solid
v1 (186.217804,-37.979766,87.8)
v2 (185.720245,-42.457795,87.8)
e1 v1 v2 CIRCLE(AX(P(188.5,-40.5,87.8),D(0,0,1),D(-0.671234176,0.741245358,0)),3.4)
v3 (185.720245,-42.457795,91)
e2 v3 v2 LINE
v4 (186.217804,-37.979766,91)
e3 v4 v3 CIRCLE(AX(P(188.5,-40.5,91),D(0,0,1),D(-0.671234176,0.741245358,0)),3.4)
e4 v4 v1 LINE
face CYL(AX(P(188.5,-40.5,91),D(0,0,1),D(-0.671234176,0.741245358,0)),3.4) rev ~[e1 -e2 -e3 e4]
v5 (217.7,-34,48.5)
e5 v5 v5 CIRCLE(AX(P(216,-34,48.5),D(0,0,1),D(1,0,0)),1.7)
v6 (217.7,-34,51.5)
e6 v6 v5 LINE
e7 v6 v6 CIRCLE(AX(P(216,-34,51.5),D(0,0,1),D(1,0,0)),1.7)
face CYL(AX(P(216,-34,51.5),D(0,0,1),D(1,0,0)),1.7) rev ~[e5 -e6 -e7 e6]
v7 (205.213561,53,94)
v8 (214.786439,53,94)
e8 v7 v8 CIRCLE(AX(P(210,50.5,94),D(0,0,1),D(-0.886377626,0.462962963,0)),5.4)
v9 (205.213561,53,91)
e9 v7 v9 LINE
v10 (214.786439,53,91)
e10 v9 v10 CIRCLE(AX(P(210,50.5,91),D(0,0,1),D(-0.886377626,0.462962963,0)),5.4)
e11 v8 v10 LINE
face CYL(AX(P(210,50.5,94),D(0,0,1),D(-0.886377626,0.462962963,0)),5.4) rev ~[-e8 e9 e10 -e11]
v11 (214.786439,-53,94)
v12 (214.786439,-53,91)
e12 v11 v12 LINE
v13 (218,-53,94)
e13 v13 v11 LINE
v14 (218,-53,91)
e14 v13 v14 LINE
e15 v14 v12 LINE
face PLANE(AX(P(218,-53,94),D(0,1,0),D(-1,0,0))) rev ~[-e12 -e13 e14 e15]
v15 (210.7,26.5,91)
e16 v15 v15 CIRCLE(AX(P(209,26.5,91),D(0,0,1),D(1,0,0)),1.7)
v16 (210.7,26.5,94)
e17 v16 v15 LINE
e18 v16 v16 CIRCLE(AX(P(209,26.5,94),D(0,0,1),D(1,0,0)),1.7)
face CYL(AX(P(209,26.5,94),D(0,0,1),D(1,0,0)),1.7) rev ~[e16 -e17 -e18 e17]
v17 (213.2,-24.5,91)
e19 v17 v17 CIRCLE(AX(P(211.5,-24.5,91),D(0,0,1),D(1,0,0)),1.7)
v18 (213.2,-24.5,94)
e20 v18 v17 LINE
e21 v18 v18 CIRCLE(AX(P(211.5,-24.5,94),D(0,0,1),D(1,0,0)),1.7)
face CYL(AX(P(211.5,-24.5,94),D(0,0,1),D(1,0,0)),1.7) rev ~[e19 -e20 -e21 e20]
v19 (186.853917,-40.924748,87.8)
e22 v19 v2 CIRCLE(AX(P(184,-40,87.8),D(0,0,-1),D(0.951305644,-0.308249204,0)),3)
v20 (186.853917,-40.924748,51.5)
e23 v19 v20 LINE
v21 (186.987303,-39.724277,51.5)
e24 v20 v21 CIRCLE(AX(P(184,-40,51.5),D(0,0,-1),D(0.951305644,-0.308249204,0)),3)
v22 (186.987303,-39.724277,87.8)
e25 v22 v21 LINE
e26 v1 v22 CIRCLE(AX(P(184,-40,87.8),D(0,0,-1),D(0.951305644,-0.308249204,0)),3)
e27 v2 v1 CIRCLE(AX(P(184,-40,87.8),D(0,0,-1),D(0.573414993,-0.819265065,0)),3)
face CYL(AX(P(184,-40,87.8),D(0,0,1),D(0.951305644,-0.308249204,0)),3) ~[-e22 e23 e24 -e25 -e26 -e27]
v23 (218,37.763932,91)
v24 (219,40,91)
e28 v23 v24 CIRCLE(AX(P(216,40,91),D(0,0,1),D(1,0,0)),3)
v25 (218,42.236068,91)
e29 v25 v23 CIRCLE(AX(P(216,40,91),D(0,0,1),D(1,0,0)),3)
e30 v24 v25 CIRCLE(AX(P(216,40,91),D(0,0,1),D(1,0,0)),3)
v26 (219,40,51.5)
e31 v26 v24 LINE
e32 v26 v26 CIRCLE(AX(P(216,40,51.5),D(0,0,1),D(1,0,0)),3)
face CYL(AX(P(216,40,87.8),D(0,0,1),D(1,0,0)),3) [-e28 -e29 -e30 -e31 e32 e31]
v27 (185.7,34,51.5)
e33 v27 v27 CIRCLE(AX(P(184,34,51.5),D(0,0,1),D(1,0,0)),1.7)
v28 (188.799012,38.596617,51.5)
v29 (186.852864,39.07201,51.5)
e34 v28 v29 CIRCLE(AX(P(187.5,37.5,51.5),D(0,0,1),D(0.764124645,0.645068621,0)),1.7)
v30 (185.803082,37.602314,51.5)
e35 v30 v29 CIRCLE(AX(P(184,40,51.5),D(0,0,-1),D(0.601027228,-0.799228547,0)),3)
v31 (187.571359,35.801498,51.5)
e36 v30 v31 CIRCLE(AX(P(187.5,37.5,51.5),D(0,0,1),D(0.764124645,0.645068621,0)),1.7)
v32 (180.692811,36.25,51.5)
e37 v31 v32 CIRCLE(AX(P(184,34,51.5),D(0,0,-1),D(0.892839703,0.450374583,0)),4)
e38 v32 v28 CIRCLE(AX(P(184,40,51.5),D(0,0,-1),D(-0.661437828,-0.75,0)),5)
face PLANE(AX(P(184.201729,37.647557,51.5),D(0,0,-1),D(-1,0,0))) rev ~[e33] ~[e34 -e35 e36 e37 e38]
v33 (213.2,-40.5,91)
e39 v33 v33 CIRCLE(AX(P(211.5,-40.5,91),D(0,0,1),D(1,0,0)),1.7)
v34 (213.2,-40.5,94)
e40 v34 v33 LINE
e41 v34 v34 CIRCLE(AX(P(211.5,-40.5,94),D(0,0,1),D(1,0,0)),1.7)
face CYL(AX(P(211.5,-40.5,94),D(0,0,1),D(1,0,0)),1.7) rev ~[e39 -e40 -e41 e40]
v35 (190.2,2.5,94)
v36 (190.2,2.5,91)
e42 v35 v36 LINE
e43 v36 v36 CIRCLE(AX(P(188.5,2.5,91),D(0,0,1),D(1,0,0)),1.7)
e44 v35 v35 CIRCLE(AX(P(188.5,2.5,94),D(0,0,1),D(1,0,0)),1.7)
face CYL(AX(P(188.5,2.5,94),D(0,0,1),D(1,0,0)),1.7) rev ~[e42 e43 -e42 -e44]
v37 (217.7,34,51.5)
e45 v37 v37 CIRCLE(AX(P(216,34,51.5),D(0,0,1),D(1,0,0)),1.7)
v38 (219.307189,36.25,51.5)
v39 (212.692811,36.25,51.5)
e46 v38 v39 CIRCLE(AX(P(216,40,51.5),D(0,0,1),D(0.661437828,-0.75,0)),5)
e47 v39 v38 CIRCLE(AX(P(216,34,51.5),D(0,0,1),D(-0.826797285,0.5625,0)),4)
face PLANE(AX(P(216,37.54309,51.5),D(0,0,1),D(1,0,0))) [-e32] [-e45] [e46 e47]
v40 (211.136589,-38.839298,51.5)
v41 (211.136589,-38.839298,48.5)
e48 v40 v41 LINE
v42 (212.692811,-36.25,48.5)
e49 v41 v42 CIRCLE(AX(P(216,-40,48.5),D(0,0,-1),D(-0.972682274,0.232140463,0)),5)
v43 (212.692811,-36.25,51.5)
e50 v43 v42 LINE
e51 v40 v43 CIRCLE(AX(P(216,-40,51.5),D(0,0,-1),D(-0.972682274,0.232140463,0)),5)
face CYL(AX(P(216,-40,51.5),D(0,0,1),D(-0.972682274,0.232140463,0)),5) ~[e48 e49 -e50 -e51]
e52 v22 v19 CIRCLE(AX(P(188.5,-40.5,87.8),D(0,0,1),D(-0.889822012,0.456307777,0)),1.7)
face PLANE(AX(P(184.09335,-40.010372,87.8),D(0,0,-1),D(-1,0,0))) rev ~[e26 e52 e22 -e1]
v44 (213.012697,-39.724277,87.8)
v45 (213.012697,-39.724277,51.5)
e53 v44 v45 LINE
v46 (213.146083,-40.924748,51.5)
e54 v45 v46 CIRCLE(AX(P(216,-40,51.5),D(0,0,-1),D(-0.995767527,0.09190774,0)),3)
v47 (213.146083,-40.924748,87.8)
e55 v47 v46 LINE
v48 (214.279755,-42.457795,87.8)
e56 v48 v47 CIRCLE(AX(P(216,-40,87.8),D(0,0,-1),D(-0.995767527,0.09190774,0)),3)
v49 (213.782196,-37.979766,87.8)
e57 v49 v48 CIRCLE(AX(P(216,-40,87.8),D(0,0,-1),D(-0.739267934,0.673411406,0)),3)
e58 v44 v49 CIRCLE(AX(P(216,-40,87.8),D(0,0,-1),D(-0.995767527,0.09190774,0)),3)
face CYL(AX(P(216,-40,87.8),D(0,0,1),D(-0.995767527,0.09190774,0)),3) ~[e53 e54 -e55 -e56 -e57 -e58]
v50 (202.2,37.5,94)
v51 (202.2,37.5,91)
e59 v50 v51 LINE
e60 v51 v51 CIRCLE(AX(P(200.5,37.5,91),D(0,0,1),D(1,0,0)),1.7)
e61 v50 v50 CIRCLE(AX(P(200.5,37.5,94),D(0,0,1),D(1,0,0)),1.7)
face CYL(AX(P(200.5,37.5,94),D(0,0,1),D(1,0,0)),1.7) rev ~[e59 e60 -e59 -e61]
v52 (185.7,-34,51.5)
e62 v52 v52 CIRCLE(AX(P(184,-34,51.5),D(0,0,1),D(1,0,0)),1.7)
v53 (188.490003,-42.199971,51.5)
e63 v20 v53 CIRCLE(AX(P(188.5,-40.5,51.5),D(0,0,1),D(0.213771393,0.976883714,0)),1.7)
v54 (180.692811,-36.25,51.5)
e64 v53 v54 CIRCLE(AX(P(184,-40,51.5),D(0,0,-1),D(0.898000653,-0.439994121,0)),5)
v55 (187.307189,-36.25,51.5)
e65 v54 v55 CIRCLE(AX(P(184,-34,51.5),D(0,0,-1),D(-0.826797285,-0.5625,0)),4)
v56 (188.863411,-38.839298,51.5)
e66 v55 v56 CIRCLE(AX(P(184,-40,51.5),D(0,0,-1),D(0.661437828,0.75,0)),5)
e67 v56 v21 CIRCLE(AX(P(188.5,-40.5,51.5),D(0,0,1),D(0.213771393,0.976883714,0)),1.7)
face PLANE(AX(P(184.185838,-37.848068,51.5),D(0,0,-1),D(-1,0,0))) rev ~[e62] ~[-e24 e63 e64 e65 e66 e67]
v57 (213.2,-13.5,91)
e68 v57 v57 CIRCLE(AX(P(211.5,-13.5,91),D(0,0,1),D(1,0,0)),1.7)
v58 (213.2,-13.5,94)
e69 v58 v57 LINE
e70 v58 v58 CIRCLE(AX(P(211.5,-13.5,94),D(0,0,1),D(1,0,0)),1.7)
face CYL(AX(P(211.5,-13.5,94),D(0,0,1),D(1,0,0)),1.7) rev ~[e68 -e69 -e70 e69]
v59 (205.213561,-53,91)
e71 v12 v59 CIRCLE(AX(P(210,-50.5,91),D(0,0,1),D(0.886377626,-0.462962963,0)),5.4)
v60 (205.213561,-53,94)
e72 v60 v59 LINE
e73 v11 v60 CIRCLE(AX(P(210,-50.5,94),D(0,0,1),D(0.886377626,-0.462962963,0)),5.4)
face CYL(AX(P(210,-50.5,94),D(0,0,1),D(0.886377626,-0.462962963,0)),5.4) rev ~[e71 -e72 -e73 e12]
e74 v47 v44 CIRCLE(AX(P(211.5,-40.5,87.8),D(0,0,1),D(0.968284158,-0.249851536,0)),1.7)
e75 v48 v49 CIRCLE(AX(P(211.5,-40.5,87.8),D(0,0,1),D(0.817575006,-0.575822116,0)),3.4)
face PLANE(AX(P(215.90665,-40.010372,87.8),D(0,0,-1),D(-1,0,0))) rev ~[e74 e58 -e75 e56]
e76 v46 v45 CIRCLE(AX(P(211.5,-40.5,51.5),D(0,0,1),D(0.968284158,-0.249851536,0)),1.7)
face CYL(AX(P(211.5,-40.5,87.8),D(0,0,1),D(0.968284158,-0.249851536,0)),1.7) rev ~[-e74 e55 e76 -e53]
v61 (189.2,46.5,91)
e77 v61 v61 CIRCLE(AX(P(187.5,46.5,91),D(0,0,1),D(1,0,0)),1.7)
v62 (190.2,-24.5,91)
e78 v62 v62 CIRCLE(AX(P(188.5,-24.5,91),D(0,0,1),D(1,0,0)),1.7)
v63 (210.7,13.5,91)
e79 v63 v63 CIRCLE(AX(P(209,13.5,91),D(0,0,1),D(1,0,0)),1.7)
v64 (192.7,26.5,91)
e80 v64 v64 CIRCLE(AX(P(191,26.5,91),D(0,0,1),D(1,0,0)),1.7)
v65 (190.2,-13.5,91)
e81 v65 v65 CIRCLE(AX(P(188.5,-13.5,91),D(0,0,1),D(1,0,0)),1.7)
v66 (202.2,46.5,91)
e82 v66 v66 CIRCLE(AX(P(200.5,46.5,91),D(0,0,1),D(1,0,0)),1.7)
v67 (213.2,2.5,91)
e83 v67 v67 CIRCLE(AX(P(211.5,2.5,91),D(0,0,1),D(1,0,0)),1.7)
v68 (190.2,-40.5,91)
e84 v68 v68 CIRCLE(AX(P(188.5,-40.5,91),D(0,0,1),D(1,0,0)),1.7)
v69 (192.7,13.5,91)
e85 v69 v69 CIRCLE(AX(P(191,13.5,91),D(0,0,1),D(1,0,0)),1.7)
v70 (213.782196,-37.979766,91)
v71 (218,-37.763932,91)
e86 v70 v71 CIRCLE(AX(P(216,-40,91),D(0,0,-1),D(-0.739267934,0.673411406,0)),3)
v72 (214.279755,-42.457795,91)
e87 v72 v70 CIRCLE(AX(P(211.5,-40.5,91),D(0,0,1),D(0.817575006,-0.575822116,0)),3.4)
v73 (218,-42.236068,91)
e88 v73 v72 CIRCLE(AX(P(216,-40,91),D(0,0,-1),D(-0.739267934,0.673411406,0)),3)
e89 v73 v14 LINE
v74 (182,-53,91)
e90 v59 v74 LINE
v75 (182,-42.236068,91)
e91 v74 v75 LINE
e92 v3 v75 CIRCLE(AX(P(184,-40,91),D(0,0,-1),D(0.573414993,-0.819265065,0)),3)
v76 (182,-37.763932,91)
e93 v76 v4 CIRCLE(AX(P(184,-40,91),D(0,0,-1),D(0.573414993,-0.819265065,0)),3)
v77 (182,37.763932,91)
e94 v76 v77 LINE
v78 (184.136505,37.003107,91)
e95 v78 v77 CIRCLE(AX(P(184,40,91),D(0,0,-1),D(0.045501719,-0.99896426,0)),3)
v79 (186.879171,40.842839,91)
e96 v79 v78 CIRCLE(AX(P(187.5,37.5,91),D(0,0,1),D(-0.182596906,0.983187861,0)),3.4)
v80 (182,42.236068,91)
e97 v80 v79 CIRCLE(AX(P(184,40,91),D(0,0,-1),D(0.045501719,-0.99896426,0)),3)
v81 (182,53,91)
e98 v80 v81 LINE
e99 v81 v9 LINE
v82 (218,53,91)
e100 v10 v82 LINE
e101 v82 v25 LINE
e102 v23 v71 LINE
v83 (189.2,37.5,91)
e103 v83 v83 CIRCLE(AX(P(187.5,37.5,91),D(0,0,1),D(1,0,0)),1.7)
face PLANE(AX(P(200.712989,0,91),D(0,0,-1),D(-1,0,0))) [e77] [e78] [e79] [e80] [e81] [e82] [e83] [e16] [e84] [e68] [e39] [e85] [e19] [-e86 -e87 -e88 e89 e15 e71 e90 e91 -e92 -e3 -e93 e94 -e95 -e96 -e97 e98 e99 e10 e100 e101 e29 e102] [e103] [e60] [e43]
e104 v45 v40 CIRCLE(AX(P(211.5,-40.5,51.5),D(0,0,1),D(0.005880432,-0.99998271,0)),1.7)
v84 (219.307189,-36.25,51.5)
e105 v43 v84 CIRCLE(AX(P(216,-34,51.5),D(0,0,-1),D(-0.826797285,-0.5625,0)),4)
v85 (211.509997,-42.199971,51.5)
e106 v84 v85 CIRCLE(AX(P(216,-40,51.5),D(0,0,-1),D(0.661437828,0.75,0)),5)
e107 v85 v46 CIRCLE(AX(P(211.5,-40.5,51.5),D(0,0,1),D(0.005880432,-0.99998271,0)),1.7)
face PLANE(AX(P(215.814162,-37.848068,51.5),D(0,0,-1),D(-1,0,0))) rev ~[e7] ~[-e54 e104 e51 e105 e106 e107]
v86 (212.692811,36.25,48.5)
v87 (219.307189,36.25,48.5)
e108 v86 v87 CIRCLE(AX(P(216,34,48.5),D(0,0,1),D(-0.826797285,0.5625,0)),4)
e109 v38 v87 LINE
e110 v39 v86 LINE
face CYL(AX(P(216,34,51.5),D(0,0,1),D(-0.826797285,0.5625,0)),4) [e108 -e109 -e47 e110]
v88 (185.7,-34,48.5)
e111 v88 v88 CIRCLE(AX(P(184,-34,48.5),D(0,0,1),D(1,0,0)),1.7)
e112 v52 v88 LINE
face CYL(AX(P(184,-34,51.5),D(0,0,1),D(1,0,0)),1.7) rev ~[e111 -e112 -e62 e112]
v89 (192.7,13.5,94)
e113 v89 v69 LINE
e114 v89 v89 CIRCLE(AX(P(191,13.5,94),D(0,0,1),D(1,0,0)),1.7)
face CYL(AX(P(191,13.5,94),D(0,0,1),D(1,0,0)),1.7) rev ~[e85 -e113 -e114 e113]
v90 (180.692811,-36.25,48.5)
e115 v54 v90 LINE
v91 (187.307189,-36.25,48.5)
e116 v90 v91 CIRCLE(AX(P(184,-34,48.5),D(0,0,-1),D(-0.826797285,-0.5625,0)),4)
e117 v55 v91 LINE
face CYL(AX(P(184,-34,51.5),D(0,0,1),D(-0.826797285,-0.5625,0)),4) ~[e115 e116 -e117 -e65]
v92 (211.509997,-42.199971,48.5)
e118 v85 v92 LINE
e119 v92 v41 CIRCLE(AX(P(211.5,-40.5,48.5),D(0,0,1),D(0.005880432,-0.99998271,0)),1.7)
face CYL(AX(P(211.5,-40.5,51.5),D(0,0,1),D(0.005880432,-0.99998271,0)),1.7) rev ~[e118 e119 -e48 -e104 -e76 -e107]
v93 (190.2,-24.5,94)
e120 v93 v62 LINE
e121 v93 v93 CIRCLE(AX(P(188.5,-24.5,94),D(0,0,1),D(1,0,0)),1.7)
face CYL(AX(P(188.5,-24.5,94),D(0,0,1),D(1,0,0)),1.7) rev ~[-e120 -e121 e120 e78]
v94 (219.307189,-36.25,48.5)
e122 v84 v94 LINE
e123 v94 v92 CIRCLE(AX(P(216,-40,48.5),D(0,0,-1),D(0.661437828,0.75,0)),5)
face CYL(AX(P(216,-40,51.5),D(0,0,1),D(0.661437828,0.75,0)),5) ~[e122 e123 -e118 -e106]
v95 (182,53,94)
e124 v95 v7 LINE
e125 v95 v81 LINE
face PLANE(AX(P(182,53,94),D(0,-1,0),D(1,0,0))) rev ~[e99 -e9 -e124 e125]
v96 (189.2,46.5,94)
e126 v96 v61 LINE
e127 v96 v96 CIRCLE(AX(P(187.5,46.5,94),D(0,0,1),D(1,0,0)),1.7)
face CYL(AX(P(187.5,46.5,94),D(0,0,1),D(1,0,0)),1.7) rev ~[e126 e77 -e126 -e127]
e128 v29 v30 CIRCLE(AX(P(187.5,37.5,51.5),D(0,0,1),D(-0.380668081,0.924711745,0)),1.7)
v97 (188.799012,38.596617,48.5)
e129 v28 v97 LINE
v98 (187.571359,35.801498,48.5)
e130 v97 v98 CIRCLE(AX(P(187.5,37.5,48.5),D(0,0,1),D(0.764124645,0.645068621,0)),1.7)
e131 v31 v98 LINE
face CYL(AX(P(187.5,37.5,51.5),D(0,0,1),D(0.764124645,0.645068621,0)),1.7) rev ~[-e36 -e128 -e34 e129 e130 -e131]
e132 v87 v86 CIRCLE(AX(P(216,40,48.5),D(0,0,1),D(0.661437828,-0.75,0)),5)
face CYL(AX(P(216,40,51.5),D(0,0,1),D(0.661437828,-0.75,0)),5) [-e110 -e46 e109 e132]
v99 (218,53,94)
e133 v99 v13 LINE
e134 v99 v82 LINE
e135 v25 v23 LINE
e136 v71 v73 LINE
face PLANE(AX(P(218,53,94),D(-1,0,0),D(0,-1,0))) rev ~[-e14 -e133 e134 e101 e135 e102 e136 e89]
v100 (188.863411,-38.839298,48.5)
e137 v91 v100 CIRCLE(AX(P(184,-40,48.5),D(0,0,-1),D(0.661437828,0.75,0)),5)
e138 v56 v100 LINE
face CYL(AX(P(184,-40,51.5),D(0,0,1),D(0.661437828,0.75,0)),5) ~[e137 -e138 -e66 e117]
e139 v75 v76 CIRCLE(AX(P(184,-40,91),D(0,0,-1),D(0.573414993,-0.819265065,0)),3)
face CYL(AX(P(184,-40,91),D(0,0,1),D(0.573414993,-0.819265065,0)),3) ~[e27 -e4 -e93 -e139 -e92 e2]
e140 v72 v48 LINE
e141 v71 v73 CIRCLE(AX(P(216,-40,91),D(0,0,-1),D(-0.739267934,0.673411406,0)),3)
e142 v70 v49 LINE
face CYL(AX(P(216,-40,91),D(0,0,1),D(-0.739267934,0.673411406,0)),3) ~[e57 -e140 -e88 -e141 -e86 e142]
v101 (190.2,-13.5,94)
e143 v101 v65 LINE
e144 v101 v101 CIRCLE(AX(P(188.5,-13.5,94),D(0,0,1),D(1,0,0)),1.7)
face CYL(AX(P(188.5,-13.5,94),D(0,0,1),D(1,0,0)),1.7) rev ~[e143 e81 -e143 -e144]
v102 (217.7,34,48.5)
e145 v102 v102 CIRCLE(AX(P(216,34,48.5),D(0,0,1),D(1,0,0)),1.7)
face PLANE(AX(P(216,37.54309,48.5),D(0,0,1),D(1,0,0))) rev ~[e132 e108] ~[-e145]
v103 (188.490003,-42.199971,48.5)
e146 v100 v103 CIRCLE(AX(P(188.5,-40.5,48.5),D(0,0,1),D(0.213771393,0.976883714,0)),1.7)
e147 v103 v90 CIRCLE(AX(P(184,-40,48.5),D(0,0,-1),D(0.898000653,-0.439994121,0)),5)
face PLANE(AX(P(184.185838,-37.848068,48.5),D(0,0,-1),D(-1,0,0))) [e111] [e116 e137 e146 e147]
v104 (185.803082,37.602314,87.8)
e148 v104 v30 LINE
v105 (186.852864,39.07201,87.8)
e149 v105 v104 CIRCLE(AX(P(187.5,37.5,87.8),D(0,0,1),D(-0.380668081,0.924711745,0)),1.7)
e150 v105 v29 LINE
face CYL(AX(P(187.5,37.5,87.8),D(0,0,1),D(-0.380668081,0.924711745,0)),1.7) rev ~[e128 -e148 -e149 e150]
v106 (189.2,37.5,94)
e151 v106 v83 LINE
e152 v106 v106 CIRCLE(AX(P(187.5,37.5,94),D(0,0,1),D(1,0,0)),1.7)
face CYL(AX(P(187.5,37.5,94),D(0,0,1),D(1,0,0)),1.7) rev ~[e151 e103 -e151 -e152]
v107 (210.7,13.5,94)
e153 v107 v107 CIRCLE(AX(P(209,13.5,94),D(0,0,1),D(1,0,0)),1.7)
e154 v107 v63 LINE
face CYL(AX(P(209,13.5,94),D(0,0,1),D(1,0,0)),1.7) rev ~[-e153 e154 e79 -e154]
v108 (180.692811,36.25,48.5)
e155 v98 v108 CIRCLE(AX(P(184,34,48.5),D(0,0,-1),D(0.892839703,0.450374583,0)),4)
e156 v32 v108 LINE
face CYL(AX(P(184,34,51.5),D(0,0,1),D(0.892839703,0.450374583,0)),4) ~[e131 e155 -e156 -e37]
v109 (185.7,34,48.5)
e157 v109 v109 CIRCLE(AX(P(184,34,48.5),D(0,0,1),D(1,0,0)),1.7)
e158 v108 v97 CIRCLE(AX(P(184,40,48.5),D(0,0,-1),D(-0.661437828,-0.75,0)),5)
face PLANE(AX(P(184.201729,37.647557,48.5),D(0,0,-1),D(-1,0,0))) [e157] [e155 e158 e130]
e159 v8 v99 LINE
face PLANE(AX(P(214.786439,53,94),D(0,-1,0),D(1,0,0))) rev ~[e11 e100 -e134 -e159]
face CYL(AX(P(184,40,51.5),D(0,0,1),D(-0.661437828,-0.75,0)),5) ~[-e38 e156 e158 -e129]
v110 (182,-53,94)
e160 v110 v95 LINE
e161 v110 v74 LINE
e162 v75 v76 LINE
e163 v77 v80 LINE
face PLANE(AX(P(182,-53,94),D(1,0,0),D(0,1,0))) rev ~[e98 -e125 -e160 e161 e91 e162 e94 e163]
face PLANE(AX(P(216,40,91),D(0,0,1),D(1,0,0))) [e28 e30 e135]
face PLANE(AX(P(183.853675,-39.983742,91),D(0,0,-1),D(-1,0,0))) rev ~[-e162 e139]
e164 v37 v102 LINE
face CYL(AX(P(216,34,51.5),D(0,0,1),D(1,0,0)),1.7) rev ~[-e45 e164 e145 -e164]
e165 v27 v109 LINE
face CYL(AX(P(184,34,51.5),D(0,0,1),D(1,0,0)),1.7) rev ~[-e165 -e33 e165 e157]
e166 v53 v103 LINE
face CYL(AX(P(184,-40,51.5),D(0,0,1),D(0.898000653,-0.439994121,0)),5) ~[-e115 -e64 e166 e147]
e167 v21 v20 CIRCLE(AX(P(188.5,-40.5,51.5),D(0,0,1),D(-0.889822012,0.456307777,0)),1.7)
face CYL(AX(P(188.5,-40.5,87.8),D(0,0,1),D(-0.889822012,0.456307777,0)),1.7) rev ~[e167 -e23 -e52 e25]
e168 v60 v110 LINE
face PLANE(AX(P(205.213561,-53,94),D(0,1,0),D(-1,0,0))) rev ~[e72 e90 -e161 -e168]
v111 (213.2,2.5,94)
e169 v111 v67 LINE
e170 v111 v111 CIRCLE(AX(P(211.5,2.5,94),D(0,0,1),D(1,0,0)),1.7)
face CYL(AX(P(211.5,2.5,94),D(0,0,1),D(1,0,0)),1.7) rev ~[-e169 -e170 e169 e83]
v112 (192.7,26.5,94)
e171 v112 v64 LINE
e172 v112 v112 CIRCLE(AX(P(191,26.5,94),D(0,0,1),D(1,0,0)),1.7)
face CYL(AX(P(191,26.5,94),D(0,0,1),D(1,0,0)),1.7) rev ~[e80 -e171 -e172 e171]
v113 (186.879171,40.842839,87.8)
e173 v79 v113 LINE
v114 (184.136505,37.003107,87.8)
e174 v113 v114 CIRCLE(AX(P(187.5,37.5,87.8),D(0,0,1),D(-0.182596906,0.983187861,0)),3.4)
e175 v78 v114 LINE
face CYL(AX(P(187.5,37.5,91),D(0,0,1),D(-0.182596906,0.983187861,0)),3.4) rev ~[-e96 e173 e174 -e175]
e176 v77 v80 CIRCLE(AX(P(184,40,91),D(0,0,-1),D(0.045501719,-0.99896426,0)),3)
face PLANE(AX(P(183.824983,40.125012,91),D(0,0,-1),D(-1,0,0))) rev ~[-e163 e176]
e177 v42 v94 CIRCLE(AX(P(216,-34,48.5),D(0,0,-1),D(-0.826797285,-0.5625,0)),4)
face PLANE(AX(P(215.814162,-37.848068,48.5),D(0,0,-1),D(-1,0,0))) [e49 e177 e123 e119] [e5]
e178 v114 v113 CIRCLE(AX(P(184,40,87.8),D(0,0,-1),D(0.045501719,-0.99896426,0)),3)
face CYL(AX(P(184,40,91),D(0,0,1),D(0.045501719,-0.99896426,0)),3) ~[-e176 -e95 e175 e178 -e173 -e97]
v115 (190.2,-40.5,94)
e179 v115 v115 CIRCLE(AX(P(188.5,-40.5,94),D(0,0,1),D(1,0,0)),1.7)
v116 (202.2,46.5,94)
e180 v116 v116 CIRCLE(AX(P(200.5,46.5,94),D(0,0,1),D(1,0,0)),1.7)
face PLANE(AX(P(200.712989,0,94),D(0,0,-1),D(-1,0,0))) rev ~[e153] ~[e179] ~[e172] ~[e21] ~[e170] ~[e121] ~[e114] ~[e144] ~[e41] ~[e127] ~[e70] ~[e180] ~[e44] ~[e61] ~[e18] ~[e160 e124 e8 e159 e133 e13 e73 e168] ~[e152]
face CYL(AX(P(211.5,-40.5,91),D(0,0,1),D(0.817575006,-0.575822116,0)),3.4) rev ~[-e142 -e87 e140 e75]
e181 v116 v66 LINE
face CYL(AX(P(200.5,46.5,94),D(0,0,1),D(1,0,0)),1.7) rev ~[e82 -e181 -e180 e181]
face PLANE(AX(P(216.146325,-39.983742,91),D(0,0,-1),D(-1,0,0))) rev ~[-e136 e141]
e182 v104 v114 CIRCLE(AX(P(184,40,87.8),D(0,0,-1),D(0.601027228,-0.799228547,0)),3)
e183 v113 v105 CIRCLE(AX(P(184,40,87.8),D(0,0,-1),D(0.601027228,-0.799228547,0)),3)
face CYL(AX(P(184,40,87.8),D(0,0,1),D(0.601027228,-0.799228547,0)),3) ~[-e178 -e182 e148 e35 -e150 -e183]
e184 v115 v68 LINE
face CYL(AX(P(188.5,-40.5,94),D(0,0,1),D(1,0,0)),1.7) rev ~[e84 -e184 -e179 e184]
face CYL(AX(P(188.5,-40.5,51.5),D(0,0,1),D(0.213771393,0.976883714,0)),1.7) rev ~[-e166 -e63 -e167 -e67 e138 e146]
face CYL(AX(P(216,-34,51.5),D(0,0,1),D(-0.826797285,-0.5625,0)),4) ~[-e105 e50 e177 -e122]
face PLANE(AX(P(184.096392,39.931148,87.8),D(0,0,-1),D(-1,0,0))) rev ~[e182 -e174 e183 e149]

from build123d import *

# Parameters (mm, degrees)
MAIN_PROFILE_SKETCH_R     = 1.7
MAIN_EXTRUSION_DEPTH      = 3
DETAIL_PROFILE_2_SKETCH_R = 3
DETAIL_EXTRUSION_2_DEPTH  = 3.2
DETAIL_PROFILE_3_SKETCH_R = 3
DETAIL_EXTRUSION_3_DEPTH  = 36.3
DETAIL_PROFILE_4_SKETCH_R = 1.7
DETAIL_EXTRUSION_4_DEPTH  = 3


with BuildPart() as part:
    # Main Profile Sketch → Main Extrusion (new body)
    with BuildSketch(Plane.XY.offset(94)):
        with BuildLine():
            Line((182, 53), (205.213560822, 53))
            ThreePointArc((205.213560822, 53), (210, 45.1), (214.786439178, 53))
            Line((214.786439178, 53), (218, 53))
            Line((218, 53), (218, -53))
            Line((218, -53), (214.786439178, -53))
            ThreePointArc((214.786439178, -53), (210, -45.1), (205.213560822, -53))
            Line((205.213560822, -53), (182, -53))
            Line((182, -53), (182, 53))
        make_face()
        with Locations((188.5, -40.5)):
            Circle(MAIN_PROFILE_SKETCH_R, mode=Mode.SUBTRACT)
        with Locations((188.5, -24.5)):
            Circle(MAIN_PROFILE_SKETCH_R, mode=Mode.SUBTRACT)
        with Locations((188.5, -13.5)):
            Circle(MAIN_PROFILE_SKETCH_R, mode=Mode.SUBTRACT)
        with Locations((211.5, -40.5)):
            Circle(MAIN_PROFILE_SKETCH_R, mode=Mode.SUBTRACT)
        with Locations((211.5, -24.5)):
            Circle(MAIN_PROFILE_SKETCH_R, mode=Mode.SUBTRACT)
        with Locations((211.5, -13.5)):
            Circle(MAIN_PROFILE_SKETCH_R, mode=Mode.SUBTRACT)
        with Locations((188.5, 2.5)):
            Circle(MAIN_PROFILE_SKETCH_R, mode=Mode.SUBTRACT)
        with Locations((191, 13.5)):
            Circle(MAIN_PROFILE_SKETCH_R, mode=Mode.SUBTRACT)
        with Locations((187.5, 37.5)):
            Circle(MAIN_PROFILE_SKETCH_R, mode=Mode.SUBTRACT)
        with Locations((187.5, 46.5)):
            Circle(MAIN_PROFILE_SKETCH_R, mode=Mode.SUBTRACT)
        with Locations((191, 26.5)):
            Circle(MAIN_PROFILE_SKETCH_R, mode=Mode.SUBTRACT)
        with Locations((211.5, 2.5)):
            Circle(MAIN_PROFILE_SKETCH_R, mode=Mode.SUBTRACT)
        with Locations((209, 13.5)):
            Circle(MAIN_PROFILE_SKETCH_R, mode=Mode.SUBTRACT)
        with Locations((200.5, 37.5)):
            Circle(MAIN_PROFILE_SKETCH_R, mode=Mode.SUBTRACT)
        with Locations((200.5, 46.5)):
            Circle(MAIN_PROFILE_SKETCH_R, mode=Mode.SUBTRACT)
        with Locations((209, 26.5)):
            Circle(MAIN_PROFILE_SKETCH_R, mode=Mode.SUBTRACT)
    extrude(amount=-MAIN_EXTRUSION_DEPTH)

    # Detail Profile 2 Sketch → Detail Extrusion 2 (add)
    with BuildSketch(Plane.XY.offset(91)):
        with Locations((216, 40)):
            Circle(DETAIL_PROFILE_2_SKETCH_R)
        with BuildLine():
            ThreePointArc((186.879170519, 40.842838727), (184.733306198, 39.476209859), (184.136505156, 37.003107219))
            ThreePointArc((184.136505156, 37.003107219), (181.558799586, 41.743714581), (186.879170519, 40.842838727))
        make_face()
        with BuildLine():
            ThreePointArc((186.217803802, -37.979765782), (185.120795302, -40.124532811), (185.720244978, -42.457795194))
            ThreePointArc((185.720244978, -42.457795194), (181.018348796, -39.668705422), (186.217803802, -37.979765782))
        make_face()
        with BuildLine():
            ThreePointArc((214.279755022, -42.457795194), (214.879204698, -40.124532811), (213.782196198, -37.979765782))
            ThreePointArc((213.782196198, -37.979765782), (218.981651204, -39.668705422), (214.279755022, -42.457795194))
        make_face()
    extrude(amount=-DETAIL_EXTRUSION_2_DEPTH)

    # Detail Profile 3 Sketch → Detail Extrusion 3 (add)
    with BuildSketch(Plane.XY.offset(87.8)):
        with Locations((216, 40)):
            Circle(DETAIL_PROFILE_3_SKETCH_R)
        with BuildLine():
            ThreePointArc((186.852864262, 39.072009967), (186.116653099, 38.488104929), (185.803081684, 37.602314357))
            ThreePointArc((185.803081684, 37.602314357), (181.558799586, 41.743714581), (186.852864262, 39.072009967))
        make_face()
        with BuildLine():
            ThreePointArc((186.98730258, -39.724276779), (186.810397651, -40.312266406), (186.853916932, -40.924747611))
            ThreePointArc((186.853916932, -40.924747611), (181.018348796, -39.668705422), (186.98730258, -39.724276779))
        make_face()
        with BuildLine():
            ThreePointArc((213.146083068, -40.924747611), (213.189602349, -40.312266406), (213.01269742, -39.724276779))
            ThreePointArc((213.01269742, -39.724276779), (218.981651204, -39.668705422), (213.146083068, -40.924747611))
        make_face()
    extrude(amount=-DETAIL_EXTRUSION_3_DEPTH)

    # Detail Profile 4 Sketch → Detail Extrusion 4 (add)
    # profile 1 of 4: a face of its own
    with BuildSketch(Plane.XY.offset(51.5)):
        with BuildLine():
            ThreePointArc((188.799011897, 38.596616656), (185.943513385, 38.18362959), (187.571358812, 35.801498331))
            ThreePointArc((187.571358812, 35.801498331), (183.73974082, 30.008475835), (180.692810861, 36.25))
            ThreePointArc((180.692810861, 36.25), (182.609663272, 44.802807906), (188.799011897, 38.596616656))
        make_face()
        with Locations((184, 34)):
            Circle(DETAIL_PROFILE_4_SKETCH_R, mode=Mode.SUBTRACT)
    # profile 2 of 4: a face of its own
    with BuildSketch(Plane.XY.offset(51.5)):
        with BuildLine():
            ThreePointArc((188.863411368, -38.839297685), (186.810397651, -40.312266406), (188.490003266, -42.199970607))
            ThreePointArc((188.490003266, -42.199970607), (180.96680039, -43.974883662), (180.692810861, -36.25))
            ThreePointArc((180.692810861, -36.25), (184, -30), (187.307189139, -36.25))
            ThreePointArc((187.307189139, -36.25), (188.285533081, -37.424304713), (188.863411368, -38.839297685))
        make_face()
        with Locations((184, -34)):
            Circle(DETAIL_PROFILE_4_SKETCH_R, mode=Mode.SUBTRACT)
    # profile 3 of 4: a face of its own
    with BuildSketch(Plane.XY.offset(51.5)):
        with BuildLine():
            ThreePointArc((211.509996734, -42.199970607), (213.189602349, -40.312266406), (211.136588632, -38.839297685))
            ThreePointArc((211.136588632, -38.839297685), (211.714466919, -37.424304713), (212.692810861, -36.25))
            ThreePointArc((212.692810861, -36.25), (216, -30), (219.307189139, -36.25))
            ThreePointArc((219.307189139, -36.25), (219.03319961, -43.974883662), (211.509996734, -42.199970607))
        make_face()
        with Locations((216, -34)):
            Circle(DETAIL_PROFILE_4_SKETCH_R, mode=Mode.SUBTRACT)
    # profile 4 of 4: a face of its own
    with BuildSketch(Plane.XY.offset(51.5)):
        with BuildLine():
            ThreePointArc((212.692810861, 36.25), (216, 30), (219.307189139, 36.25))
            ThreePointArc((219.307189139, 36.25), (216, 45), (212.692810861, 36.25))
        make_face()
        with Locations((216, 34)):
            Circle(DETAIL_PROFILE_4_SKETCH_R, mode=Mode.SUBTRACT)
    extrude(amount=-DETAIL_EXTRUSION_4_DEPTH)


solid = part.part
